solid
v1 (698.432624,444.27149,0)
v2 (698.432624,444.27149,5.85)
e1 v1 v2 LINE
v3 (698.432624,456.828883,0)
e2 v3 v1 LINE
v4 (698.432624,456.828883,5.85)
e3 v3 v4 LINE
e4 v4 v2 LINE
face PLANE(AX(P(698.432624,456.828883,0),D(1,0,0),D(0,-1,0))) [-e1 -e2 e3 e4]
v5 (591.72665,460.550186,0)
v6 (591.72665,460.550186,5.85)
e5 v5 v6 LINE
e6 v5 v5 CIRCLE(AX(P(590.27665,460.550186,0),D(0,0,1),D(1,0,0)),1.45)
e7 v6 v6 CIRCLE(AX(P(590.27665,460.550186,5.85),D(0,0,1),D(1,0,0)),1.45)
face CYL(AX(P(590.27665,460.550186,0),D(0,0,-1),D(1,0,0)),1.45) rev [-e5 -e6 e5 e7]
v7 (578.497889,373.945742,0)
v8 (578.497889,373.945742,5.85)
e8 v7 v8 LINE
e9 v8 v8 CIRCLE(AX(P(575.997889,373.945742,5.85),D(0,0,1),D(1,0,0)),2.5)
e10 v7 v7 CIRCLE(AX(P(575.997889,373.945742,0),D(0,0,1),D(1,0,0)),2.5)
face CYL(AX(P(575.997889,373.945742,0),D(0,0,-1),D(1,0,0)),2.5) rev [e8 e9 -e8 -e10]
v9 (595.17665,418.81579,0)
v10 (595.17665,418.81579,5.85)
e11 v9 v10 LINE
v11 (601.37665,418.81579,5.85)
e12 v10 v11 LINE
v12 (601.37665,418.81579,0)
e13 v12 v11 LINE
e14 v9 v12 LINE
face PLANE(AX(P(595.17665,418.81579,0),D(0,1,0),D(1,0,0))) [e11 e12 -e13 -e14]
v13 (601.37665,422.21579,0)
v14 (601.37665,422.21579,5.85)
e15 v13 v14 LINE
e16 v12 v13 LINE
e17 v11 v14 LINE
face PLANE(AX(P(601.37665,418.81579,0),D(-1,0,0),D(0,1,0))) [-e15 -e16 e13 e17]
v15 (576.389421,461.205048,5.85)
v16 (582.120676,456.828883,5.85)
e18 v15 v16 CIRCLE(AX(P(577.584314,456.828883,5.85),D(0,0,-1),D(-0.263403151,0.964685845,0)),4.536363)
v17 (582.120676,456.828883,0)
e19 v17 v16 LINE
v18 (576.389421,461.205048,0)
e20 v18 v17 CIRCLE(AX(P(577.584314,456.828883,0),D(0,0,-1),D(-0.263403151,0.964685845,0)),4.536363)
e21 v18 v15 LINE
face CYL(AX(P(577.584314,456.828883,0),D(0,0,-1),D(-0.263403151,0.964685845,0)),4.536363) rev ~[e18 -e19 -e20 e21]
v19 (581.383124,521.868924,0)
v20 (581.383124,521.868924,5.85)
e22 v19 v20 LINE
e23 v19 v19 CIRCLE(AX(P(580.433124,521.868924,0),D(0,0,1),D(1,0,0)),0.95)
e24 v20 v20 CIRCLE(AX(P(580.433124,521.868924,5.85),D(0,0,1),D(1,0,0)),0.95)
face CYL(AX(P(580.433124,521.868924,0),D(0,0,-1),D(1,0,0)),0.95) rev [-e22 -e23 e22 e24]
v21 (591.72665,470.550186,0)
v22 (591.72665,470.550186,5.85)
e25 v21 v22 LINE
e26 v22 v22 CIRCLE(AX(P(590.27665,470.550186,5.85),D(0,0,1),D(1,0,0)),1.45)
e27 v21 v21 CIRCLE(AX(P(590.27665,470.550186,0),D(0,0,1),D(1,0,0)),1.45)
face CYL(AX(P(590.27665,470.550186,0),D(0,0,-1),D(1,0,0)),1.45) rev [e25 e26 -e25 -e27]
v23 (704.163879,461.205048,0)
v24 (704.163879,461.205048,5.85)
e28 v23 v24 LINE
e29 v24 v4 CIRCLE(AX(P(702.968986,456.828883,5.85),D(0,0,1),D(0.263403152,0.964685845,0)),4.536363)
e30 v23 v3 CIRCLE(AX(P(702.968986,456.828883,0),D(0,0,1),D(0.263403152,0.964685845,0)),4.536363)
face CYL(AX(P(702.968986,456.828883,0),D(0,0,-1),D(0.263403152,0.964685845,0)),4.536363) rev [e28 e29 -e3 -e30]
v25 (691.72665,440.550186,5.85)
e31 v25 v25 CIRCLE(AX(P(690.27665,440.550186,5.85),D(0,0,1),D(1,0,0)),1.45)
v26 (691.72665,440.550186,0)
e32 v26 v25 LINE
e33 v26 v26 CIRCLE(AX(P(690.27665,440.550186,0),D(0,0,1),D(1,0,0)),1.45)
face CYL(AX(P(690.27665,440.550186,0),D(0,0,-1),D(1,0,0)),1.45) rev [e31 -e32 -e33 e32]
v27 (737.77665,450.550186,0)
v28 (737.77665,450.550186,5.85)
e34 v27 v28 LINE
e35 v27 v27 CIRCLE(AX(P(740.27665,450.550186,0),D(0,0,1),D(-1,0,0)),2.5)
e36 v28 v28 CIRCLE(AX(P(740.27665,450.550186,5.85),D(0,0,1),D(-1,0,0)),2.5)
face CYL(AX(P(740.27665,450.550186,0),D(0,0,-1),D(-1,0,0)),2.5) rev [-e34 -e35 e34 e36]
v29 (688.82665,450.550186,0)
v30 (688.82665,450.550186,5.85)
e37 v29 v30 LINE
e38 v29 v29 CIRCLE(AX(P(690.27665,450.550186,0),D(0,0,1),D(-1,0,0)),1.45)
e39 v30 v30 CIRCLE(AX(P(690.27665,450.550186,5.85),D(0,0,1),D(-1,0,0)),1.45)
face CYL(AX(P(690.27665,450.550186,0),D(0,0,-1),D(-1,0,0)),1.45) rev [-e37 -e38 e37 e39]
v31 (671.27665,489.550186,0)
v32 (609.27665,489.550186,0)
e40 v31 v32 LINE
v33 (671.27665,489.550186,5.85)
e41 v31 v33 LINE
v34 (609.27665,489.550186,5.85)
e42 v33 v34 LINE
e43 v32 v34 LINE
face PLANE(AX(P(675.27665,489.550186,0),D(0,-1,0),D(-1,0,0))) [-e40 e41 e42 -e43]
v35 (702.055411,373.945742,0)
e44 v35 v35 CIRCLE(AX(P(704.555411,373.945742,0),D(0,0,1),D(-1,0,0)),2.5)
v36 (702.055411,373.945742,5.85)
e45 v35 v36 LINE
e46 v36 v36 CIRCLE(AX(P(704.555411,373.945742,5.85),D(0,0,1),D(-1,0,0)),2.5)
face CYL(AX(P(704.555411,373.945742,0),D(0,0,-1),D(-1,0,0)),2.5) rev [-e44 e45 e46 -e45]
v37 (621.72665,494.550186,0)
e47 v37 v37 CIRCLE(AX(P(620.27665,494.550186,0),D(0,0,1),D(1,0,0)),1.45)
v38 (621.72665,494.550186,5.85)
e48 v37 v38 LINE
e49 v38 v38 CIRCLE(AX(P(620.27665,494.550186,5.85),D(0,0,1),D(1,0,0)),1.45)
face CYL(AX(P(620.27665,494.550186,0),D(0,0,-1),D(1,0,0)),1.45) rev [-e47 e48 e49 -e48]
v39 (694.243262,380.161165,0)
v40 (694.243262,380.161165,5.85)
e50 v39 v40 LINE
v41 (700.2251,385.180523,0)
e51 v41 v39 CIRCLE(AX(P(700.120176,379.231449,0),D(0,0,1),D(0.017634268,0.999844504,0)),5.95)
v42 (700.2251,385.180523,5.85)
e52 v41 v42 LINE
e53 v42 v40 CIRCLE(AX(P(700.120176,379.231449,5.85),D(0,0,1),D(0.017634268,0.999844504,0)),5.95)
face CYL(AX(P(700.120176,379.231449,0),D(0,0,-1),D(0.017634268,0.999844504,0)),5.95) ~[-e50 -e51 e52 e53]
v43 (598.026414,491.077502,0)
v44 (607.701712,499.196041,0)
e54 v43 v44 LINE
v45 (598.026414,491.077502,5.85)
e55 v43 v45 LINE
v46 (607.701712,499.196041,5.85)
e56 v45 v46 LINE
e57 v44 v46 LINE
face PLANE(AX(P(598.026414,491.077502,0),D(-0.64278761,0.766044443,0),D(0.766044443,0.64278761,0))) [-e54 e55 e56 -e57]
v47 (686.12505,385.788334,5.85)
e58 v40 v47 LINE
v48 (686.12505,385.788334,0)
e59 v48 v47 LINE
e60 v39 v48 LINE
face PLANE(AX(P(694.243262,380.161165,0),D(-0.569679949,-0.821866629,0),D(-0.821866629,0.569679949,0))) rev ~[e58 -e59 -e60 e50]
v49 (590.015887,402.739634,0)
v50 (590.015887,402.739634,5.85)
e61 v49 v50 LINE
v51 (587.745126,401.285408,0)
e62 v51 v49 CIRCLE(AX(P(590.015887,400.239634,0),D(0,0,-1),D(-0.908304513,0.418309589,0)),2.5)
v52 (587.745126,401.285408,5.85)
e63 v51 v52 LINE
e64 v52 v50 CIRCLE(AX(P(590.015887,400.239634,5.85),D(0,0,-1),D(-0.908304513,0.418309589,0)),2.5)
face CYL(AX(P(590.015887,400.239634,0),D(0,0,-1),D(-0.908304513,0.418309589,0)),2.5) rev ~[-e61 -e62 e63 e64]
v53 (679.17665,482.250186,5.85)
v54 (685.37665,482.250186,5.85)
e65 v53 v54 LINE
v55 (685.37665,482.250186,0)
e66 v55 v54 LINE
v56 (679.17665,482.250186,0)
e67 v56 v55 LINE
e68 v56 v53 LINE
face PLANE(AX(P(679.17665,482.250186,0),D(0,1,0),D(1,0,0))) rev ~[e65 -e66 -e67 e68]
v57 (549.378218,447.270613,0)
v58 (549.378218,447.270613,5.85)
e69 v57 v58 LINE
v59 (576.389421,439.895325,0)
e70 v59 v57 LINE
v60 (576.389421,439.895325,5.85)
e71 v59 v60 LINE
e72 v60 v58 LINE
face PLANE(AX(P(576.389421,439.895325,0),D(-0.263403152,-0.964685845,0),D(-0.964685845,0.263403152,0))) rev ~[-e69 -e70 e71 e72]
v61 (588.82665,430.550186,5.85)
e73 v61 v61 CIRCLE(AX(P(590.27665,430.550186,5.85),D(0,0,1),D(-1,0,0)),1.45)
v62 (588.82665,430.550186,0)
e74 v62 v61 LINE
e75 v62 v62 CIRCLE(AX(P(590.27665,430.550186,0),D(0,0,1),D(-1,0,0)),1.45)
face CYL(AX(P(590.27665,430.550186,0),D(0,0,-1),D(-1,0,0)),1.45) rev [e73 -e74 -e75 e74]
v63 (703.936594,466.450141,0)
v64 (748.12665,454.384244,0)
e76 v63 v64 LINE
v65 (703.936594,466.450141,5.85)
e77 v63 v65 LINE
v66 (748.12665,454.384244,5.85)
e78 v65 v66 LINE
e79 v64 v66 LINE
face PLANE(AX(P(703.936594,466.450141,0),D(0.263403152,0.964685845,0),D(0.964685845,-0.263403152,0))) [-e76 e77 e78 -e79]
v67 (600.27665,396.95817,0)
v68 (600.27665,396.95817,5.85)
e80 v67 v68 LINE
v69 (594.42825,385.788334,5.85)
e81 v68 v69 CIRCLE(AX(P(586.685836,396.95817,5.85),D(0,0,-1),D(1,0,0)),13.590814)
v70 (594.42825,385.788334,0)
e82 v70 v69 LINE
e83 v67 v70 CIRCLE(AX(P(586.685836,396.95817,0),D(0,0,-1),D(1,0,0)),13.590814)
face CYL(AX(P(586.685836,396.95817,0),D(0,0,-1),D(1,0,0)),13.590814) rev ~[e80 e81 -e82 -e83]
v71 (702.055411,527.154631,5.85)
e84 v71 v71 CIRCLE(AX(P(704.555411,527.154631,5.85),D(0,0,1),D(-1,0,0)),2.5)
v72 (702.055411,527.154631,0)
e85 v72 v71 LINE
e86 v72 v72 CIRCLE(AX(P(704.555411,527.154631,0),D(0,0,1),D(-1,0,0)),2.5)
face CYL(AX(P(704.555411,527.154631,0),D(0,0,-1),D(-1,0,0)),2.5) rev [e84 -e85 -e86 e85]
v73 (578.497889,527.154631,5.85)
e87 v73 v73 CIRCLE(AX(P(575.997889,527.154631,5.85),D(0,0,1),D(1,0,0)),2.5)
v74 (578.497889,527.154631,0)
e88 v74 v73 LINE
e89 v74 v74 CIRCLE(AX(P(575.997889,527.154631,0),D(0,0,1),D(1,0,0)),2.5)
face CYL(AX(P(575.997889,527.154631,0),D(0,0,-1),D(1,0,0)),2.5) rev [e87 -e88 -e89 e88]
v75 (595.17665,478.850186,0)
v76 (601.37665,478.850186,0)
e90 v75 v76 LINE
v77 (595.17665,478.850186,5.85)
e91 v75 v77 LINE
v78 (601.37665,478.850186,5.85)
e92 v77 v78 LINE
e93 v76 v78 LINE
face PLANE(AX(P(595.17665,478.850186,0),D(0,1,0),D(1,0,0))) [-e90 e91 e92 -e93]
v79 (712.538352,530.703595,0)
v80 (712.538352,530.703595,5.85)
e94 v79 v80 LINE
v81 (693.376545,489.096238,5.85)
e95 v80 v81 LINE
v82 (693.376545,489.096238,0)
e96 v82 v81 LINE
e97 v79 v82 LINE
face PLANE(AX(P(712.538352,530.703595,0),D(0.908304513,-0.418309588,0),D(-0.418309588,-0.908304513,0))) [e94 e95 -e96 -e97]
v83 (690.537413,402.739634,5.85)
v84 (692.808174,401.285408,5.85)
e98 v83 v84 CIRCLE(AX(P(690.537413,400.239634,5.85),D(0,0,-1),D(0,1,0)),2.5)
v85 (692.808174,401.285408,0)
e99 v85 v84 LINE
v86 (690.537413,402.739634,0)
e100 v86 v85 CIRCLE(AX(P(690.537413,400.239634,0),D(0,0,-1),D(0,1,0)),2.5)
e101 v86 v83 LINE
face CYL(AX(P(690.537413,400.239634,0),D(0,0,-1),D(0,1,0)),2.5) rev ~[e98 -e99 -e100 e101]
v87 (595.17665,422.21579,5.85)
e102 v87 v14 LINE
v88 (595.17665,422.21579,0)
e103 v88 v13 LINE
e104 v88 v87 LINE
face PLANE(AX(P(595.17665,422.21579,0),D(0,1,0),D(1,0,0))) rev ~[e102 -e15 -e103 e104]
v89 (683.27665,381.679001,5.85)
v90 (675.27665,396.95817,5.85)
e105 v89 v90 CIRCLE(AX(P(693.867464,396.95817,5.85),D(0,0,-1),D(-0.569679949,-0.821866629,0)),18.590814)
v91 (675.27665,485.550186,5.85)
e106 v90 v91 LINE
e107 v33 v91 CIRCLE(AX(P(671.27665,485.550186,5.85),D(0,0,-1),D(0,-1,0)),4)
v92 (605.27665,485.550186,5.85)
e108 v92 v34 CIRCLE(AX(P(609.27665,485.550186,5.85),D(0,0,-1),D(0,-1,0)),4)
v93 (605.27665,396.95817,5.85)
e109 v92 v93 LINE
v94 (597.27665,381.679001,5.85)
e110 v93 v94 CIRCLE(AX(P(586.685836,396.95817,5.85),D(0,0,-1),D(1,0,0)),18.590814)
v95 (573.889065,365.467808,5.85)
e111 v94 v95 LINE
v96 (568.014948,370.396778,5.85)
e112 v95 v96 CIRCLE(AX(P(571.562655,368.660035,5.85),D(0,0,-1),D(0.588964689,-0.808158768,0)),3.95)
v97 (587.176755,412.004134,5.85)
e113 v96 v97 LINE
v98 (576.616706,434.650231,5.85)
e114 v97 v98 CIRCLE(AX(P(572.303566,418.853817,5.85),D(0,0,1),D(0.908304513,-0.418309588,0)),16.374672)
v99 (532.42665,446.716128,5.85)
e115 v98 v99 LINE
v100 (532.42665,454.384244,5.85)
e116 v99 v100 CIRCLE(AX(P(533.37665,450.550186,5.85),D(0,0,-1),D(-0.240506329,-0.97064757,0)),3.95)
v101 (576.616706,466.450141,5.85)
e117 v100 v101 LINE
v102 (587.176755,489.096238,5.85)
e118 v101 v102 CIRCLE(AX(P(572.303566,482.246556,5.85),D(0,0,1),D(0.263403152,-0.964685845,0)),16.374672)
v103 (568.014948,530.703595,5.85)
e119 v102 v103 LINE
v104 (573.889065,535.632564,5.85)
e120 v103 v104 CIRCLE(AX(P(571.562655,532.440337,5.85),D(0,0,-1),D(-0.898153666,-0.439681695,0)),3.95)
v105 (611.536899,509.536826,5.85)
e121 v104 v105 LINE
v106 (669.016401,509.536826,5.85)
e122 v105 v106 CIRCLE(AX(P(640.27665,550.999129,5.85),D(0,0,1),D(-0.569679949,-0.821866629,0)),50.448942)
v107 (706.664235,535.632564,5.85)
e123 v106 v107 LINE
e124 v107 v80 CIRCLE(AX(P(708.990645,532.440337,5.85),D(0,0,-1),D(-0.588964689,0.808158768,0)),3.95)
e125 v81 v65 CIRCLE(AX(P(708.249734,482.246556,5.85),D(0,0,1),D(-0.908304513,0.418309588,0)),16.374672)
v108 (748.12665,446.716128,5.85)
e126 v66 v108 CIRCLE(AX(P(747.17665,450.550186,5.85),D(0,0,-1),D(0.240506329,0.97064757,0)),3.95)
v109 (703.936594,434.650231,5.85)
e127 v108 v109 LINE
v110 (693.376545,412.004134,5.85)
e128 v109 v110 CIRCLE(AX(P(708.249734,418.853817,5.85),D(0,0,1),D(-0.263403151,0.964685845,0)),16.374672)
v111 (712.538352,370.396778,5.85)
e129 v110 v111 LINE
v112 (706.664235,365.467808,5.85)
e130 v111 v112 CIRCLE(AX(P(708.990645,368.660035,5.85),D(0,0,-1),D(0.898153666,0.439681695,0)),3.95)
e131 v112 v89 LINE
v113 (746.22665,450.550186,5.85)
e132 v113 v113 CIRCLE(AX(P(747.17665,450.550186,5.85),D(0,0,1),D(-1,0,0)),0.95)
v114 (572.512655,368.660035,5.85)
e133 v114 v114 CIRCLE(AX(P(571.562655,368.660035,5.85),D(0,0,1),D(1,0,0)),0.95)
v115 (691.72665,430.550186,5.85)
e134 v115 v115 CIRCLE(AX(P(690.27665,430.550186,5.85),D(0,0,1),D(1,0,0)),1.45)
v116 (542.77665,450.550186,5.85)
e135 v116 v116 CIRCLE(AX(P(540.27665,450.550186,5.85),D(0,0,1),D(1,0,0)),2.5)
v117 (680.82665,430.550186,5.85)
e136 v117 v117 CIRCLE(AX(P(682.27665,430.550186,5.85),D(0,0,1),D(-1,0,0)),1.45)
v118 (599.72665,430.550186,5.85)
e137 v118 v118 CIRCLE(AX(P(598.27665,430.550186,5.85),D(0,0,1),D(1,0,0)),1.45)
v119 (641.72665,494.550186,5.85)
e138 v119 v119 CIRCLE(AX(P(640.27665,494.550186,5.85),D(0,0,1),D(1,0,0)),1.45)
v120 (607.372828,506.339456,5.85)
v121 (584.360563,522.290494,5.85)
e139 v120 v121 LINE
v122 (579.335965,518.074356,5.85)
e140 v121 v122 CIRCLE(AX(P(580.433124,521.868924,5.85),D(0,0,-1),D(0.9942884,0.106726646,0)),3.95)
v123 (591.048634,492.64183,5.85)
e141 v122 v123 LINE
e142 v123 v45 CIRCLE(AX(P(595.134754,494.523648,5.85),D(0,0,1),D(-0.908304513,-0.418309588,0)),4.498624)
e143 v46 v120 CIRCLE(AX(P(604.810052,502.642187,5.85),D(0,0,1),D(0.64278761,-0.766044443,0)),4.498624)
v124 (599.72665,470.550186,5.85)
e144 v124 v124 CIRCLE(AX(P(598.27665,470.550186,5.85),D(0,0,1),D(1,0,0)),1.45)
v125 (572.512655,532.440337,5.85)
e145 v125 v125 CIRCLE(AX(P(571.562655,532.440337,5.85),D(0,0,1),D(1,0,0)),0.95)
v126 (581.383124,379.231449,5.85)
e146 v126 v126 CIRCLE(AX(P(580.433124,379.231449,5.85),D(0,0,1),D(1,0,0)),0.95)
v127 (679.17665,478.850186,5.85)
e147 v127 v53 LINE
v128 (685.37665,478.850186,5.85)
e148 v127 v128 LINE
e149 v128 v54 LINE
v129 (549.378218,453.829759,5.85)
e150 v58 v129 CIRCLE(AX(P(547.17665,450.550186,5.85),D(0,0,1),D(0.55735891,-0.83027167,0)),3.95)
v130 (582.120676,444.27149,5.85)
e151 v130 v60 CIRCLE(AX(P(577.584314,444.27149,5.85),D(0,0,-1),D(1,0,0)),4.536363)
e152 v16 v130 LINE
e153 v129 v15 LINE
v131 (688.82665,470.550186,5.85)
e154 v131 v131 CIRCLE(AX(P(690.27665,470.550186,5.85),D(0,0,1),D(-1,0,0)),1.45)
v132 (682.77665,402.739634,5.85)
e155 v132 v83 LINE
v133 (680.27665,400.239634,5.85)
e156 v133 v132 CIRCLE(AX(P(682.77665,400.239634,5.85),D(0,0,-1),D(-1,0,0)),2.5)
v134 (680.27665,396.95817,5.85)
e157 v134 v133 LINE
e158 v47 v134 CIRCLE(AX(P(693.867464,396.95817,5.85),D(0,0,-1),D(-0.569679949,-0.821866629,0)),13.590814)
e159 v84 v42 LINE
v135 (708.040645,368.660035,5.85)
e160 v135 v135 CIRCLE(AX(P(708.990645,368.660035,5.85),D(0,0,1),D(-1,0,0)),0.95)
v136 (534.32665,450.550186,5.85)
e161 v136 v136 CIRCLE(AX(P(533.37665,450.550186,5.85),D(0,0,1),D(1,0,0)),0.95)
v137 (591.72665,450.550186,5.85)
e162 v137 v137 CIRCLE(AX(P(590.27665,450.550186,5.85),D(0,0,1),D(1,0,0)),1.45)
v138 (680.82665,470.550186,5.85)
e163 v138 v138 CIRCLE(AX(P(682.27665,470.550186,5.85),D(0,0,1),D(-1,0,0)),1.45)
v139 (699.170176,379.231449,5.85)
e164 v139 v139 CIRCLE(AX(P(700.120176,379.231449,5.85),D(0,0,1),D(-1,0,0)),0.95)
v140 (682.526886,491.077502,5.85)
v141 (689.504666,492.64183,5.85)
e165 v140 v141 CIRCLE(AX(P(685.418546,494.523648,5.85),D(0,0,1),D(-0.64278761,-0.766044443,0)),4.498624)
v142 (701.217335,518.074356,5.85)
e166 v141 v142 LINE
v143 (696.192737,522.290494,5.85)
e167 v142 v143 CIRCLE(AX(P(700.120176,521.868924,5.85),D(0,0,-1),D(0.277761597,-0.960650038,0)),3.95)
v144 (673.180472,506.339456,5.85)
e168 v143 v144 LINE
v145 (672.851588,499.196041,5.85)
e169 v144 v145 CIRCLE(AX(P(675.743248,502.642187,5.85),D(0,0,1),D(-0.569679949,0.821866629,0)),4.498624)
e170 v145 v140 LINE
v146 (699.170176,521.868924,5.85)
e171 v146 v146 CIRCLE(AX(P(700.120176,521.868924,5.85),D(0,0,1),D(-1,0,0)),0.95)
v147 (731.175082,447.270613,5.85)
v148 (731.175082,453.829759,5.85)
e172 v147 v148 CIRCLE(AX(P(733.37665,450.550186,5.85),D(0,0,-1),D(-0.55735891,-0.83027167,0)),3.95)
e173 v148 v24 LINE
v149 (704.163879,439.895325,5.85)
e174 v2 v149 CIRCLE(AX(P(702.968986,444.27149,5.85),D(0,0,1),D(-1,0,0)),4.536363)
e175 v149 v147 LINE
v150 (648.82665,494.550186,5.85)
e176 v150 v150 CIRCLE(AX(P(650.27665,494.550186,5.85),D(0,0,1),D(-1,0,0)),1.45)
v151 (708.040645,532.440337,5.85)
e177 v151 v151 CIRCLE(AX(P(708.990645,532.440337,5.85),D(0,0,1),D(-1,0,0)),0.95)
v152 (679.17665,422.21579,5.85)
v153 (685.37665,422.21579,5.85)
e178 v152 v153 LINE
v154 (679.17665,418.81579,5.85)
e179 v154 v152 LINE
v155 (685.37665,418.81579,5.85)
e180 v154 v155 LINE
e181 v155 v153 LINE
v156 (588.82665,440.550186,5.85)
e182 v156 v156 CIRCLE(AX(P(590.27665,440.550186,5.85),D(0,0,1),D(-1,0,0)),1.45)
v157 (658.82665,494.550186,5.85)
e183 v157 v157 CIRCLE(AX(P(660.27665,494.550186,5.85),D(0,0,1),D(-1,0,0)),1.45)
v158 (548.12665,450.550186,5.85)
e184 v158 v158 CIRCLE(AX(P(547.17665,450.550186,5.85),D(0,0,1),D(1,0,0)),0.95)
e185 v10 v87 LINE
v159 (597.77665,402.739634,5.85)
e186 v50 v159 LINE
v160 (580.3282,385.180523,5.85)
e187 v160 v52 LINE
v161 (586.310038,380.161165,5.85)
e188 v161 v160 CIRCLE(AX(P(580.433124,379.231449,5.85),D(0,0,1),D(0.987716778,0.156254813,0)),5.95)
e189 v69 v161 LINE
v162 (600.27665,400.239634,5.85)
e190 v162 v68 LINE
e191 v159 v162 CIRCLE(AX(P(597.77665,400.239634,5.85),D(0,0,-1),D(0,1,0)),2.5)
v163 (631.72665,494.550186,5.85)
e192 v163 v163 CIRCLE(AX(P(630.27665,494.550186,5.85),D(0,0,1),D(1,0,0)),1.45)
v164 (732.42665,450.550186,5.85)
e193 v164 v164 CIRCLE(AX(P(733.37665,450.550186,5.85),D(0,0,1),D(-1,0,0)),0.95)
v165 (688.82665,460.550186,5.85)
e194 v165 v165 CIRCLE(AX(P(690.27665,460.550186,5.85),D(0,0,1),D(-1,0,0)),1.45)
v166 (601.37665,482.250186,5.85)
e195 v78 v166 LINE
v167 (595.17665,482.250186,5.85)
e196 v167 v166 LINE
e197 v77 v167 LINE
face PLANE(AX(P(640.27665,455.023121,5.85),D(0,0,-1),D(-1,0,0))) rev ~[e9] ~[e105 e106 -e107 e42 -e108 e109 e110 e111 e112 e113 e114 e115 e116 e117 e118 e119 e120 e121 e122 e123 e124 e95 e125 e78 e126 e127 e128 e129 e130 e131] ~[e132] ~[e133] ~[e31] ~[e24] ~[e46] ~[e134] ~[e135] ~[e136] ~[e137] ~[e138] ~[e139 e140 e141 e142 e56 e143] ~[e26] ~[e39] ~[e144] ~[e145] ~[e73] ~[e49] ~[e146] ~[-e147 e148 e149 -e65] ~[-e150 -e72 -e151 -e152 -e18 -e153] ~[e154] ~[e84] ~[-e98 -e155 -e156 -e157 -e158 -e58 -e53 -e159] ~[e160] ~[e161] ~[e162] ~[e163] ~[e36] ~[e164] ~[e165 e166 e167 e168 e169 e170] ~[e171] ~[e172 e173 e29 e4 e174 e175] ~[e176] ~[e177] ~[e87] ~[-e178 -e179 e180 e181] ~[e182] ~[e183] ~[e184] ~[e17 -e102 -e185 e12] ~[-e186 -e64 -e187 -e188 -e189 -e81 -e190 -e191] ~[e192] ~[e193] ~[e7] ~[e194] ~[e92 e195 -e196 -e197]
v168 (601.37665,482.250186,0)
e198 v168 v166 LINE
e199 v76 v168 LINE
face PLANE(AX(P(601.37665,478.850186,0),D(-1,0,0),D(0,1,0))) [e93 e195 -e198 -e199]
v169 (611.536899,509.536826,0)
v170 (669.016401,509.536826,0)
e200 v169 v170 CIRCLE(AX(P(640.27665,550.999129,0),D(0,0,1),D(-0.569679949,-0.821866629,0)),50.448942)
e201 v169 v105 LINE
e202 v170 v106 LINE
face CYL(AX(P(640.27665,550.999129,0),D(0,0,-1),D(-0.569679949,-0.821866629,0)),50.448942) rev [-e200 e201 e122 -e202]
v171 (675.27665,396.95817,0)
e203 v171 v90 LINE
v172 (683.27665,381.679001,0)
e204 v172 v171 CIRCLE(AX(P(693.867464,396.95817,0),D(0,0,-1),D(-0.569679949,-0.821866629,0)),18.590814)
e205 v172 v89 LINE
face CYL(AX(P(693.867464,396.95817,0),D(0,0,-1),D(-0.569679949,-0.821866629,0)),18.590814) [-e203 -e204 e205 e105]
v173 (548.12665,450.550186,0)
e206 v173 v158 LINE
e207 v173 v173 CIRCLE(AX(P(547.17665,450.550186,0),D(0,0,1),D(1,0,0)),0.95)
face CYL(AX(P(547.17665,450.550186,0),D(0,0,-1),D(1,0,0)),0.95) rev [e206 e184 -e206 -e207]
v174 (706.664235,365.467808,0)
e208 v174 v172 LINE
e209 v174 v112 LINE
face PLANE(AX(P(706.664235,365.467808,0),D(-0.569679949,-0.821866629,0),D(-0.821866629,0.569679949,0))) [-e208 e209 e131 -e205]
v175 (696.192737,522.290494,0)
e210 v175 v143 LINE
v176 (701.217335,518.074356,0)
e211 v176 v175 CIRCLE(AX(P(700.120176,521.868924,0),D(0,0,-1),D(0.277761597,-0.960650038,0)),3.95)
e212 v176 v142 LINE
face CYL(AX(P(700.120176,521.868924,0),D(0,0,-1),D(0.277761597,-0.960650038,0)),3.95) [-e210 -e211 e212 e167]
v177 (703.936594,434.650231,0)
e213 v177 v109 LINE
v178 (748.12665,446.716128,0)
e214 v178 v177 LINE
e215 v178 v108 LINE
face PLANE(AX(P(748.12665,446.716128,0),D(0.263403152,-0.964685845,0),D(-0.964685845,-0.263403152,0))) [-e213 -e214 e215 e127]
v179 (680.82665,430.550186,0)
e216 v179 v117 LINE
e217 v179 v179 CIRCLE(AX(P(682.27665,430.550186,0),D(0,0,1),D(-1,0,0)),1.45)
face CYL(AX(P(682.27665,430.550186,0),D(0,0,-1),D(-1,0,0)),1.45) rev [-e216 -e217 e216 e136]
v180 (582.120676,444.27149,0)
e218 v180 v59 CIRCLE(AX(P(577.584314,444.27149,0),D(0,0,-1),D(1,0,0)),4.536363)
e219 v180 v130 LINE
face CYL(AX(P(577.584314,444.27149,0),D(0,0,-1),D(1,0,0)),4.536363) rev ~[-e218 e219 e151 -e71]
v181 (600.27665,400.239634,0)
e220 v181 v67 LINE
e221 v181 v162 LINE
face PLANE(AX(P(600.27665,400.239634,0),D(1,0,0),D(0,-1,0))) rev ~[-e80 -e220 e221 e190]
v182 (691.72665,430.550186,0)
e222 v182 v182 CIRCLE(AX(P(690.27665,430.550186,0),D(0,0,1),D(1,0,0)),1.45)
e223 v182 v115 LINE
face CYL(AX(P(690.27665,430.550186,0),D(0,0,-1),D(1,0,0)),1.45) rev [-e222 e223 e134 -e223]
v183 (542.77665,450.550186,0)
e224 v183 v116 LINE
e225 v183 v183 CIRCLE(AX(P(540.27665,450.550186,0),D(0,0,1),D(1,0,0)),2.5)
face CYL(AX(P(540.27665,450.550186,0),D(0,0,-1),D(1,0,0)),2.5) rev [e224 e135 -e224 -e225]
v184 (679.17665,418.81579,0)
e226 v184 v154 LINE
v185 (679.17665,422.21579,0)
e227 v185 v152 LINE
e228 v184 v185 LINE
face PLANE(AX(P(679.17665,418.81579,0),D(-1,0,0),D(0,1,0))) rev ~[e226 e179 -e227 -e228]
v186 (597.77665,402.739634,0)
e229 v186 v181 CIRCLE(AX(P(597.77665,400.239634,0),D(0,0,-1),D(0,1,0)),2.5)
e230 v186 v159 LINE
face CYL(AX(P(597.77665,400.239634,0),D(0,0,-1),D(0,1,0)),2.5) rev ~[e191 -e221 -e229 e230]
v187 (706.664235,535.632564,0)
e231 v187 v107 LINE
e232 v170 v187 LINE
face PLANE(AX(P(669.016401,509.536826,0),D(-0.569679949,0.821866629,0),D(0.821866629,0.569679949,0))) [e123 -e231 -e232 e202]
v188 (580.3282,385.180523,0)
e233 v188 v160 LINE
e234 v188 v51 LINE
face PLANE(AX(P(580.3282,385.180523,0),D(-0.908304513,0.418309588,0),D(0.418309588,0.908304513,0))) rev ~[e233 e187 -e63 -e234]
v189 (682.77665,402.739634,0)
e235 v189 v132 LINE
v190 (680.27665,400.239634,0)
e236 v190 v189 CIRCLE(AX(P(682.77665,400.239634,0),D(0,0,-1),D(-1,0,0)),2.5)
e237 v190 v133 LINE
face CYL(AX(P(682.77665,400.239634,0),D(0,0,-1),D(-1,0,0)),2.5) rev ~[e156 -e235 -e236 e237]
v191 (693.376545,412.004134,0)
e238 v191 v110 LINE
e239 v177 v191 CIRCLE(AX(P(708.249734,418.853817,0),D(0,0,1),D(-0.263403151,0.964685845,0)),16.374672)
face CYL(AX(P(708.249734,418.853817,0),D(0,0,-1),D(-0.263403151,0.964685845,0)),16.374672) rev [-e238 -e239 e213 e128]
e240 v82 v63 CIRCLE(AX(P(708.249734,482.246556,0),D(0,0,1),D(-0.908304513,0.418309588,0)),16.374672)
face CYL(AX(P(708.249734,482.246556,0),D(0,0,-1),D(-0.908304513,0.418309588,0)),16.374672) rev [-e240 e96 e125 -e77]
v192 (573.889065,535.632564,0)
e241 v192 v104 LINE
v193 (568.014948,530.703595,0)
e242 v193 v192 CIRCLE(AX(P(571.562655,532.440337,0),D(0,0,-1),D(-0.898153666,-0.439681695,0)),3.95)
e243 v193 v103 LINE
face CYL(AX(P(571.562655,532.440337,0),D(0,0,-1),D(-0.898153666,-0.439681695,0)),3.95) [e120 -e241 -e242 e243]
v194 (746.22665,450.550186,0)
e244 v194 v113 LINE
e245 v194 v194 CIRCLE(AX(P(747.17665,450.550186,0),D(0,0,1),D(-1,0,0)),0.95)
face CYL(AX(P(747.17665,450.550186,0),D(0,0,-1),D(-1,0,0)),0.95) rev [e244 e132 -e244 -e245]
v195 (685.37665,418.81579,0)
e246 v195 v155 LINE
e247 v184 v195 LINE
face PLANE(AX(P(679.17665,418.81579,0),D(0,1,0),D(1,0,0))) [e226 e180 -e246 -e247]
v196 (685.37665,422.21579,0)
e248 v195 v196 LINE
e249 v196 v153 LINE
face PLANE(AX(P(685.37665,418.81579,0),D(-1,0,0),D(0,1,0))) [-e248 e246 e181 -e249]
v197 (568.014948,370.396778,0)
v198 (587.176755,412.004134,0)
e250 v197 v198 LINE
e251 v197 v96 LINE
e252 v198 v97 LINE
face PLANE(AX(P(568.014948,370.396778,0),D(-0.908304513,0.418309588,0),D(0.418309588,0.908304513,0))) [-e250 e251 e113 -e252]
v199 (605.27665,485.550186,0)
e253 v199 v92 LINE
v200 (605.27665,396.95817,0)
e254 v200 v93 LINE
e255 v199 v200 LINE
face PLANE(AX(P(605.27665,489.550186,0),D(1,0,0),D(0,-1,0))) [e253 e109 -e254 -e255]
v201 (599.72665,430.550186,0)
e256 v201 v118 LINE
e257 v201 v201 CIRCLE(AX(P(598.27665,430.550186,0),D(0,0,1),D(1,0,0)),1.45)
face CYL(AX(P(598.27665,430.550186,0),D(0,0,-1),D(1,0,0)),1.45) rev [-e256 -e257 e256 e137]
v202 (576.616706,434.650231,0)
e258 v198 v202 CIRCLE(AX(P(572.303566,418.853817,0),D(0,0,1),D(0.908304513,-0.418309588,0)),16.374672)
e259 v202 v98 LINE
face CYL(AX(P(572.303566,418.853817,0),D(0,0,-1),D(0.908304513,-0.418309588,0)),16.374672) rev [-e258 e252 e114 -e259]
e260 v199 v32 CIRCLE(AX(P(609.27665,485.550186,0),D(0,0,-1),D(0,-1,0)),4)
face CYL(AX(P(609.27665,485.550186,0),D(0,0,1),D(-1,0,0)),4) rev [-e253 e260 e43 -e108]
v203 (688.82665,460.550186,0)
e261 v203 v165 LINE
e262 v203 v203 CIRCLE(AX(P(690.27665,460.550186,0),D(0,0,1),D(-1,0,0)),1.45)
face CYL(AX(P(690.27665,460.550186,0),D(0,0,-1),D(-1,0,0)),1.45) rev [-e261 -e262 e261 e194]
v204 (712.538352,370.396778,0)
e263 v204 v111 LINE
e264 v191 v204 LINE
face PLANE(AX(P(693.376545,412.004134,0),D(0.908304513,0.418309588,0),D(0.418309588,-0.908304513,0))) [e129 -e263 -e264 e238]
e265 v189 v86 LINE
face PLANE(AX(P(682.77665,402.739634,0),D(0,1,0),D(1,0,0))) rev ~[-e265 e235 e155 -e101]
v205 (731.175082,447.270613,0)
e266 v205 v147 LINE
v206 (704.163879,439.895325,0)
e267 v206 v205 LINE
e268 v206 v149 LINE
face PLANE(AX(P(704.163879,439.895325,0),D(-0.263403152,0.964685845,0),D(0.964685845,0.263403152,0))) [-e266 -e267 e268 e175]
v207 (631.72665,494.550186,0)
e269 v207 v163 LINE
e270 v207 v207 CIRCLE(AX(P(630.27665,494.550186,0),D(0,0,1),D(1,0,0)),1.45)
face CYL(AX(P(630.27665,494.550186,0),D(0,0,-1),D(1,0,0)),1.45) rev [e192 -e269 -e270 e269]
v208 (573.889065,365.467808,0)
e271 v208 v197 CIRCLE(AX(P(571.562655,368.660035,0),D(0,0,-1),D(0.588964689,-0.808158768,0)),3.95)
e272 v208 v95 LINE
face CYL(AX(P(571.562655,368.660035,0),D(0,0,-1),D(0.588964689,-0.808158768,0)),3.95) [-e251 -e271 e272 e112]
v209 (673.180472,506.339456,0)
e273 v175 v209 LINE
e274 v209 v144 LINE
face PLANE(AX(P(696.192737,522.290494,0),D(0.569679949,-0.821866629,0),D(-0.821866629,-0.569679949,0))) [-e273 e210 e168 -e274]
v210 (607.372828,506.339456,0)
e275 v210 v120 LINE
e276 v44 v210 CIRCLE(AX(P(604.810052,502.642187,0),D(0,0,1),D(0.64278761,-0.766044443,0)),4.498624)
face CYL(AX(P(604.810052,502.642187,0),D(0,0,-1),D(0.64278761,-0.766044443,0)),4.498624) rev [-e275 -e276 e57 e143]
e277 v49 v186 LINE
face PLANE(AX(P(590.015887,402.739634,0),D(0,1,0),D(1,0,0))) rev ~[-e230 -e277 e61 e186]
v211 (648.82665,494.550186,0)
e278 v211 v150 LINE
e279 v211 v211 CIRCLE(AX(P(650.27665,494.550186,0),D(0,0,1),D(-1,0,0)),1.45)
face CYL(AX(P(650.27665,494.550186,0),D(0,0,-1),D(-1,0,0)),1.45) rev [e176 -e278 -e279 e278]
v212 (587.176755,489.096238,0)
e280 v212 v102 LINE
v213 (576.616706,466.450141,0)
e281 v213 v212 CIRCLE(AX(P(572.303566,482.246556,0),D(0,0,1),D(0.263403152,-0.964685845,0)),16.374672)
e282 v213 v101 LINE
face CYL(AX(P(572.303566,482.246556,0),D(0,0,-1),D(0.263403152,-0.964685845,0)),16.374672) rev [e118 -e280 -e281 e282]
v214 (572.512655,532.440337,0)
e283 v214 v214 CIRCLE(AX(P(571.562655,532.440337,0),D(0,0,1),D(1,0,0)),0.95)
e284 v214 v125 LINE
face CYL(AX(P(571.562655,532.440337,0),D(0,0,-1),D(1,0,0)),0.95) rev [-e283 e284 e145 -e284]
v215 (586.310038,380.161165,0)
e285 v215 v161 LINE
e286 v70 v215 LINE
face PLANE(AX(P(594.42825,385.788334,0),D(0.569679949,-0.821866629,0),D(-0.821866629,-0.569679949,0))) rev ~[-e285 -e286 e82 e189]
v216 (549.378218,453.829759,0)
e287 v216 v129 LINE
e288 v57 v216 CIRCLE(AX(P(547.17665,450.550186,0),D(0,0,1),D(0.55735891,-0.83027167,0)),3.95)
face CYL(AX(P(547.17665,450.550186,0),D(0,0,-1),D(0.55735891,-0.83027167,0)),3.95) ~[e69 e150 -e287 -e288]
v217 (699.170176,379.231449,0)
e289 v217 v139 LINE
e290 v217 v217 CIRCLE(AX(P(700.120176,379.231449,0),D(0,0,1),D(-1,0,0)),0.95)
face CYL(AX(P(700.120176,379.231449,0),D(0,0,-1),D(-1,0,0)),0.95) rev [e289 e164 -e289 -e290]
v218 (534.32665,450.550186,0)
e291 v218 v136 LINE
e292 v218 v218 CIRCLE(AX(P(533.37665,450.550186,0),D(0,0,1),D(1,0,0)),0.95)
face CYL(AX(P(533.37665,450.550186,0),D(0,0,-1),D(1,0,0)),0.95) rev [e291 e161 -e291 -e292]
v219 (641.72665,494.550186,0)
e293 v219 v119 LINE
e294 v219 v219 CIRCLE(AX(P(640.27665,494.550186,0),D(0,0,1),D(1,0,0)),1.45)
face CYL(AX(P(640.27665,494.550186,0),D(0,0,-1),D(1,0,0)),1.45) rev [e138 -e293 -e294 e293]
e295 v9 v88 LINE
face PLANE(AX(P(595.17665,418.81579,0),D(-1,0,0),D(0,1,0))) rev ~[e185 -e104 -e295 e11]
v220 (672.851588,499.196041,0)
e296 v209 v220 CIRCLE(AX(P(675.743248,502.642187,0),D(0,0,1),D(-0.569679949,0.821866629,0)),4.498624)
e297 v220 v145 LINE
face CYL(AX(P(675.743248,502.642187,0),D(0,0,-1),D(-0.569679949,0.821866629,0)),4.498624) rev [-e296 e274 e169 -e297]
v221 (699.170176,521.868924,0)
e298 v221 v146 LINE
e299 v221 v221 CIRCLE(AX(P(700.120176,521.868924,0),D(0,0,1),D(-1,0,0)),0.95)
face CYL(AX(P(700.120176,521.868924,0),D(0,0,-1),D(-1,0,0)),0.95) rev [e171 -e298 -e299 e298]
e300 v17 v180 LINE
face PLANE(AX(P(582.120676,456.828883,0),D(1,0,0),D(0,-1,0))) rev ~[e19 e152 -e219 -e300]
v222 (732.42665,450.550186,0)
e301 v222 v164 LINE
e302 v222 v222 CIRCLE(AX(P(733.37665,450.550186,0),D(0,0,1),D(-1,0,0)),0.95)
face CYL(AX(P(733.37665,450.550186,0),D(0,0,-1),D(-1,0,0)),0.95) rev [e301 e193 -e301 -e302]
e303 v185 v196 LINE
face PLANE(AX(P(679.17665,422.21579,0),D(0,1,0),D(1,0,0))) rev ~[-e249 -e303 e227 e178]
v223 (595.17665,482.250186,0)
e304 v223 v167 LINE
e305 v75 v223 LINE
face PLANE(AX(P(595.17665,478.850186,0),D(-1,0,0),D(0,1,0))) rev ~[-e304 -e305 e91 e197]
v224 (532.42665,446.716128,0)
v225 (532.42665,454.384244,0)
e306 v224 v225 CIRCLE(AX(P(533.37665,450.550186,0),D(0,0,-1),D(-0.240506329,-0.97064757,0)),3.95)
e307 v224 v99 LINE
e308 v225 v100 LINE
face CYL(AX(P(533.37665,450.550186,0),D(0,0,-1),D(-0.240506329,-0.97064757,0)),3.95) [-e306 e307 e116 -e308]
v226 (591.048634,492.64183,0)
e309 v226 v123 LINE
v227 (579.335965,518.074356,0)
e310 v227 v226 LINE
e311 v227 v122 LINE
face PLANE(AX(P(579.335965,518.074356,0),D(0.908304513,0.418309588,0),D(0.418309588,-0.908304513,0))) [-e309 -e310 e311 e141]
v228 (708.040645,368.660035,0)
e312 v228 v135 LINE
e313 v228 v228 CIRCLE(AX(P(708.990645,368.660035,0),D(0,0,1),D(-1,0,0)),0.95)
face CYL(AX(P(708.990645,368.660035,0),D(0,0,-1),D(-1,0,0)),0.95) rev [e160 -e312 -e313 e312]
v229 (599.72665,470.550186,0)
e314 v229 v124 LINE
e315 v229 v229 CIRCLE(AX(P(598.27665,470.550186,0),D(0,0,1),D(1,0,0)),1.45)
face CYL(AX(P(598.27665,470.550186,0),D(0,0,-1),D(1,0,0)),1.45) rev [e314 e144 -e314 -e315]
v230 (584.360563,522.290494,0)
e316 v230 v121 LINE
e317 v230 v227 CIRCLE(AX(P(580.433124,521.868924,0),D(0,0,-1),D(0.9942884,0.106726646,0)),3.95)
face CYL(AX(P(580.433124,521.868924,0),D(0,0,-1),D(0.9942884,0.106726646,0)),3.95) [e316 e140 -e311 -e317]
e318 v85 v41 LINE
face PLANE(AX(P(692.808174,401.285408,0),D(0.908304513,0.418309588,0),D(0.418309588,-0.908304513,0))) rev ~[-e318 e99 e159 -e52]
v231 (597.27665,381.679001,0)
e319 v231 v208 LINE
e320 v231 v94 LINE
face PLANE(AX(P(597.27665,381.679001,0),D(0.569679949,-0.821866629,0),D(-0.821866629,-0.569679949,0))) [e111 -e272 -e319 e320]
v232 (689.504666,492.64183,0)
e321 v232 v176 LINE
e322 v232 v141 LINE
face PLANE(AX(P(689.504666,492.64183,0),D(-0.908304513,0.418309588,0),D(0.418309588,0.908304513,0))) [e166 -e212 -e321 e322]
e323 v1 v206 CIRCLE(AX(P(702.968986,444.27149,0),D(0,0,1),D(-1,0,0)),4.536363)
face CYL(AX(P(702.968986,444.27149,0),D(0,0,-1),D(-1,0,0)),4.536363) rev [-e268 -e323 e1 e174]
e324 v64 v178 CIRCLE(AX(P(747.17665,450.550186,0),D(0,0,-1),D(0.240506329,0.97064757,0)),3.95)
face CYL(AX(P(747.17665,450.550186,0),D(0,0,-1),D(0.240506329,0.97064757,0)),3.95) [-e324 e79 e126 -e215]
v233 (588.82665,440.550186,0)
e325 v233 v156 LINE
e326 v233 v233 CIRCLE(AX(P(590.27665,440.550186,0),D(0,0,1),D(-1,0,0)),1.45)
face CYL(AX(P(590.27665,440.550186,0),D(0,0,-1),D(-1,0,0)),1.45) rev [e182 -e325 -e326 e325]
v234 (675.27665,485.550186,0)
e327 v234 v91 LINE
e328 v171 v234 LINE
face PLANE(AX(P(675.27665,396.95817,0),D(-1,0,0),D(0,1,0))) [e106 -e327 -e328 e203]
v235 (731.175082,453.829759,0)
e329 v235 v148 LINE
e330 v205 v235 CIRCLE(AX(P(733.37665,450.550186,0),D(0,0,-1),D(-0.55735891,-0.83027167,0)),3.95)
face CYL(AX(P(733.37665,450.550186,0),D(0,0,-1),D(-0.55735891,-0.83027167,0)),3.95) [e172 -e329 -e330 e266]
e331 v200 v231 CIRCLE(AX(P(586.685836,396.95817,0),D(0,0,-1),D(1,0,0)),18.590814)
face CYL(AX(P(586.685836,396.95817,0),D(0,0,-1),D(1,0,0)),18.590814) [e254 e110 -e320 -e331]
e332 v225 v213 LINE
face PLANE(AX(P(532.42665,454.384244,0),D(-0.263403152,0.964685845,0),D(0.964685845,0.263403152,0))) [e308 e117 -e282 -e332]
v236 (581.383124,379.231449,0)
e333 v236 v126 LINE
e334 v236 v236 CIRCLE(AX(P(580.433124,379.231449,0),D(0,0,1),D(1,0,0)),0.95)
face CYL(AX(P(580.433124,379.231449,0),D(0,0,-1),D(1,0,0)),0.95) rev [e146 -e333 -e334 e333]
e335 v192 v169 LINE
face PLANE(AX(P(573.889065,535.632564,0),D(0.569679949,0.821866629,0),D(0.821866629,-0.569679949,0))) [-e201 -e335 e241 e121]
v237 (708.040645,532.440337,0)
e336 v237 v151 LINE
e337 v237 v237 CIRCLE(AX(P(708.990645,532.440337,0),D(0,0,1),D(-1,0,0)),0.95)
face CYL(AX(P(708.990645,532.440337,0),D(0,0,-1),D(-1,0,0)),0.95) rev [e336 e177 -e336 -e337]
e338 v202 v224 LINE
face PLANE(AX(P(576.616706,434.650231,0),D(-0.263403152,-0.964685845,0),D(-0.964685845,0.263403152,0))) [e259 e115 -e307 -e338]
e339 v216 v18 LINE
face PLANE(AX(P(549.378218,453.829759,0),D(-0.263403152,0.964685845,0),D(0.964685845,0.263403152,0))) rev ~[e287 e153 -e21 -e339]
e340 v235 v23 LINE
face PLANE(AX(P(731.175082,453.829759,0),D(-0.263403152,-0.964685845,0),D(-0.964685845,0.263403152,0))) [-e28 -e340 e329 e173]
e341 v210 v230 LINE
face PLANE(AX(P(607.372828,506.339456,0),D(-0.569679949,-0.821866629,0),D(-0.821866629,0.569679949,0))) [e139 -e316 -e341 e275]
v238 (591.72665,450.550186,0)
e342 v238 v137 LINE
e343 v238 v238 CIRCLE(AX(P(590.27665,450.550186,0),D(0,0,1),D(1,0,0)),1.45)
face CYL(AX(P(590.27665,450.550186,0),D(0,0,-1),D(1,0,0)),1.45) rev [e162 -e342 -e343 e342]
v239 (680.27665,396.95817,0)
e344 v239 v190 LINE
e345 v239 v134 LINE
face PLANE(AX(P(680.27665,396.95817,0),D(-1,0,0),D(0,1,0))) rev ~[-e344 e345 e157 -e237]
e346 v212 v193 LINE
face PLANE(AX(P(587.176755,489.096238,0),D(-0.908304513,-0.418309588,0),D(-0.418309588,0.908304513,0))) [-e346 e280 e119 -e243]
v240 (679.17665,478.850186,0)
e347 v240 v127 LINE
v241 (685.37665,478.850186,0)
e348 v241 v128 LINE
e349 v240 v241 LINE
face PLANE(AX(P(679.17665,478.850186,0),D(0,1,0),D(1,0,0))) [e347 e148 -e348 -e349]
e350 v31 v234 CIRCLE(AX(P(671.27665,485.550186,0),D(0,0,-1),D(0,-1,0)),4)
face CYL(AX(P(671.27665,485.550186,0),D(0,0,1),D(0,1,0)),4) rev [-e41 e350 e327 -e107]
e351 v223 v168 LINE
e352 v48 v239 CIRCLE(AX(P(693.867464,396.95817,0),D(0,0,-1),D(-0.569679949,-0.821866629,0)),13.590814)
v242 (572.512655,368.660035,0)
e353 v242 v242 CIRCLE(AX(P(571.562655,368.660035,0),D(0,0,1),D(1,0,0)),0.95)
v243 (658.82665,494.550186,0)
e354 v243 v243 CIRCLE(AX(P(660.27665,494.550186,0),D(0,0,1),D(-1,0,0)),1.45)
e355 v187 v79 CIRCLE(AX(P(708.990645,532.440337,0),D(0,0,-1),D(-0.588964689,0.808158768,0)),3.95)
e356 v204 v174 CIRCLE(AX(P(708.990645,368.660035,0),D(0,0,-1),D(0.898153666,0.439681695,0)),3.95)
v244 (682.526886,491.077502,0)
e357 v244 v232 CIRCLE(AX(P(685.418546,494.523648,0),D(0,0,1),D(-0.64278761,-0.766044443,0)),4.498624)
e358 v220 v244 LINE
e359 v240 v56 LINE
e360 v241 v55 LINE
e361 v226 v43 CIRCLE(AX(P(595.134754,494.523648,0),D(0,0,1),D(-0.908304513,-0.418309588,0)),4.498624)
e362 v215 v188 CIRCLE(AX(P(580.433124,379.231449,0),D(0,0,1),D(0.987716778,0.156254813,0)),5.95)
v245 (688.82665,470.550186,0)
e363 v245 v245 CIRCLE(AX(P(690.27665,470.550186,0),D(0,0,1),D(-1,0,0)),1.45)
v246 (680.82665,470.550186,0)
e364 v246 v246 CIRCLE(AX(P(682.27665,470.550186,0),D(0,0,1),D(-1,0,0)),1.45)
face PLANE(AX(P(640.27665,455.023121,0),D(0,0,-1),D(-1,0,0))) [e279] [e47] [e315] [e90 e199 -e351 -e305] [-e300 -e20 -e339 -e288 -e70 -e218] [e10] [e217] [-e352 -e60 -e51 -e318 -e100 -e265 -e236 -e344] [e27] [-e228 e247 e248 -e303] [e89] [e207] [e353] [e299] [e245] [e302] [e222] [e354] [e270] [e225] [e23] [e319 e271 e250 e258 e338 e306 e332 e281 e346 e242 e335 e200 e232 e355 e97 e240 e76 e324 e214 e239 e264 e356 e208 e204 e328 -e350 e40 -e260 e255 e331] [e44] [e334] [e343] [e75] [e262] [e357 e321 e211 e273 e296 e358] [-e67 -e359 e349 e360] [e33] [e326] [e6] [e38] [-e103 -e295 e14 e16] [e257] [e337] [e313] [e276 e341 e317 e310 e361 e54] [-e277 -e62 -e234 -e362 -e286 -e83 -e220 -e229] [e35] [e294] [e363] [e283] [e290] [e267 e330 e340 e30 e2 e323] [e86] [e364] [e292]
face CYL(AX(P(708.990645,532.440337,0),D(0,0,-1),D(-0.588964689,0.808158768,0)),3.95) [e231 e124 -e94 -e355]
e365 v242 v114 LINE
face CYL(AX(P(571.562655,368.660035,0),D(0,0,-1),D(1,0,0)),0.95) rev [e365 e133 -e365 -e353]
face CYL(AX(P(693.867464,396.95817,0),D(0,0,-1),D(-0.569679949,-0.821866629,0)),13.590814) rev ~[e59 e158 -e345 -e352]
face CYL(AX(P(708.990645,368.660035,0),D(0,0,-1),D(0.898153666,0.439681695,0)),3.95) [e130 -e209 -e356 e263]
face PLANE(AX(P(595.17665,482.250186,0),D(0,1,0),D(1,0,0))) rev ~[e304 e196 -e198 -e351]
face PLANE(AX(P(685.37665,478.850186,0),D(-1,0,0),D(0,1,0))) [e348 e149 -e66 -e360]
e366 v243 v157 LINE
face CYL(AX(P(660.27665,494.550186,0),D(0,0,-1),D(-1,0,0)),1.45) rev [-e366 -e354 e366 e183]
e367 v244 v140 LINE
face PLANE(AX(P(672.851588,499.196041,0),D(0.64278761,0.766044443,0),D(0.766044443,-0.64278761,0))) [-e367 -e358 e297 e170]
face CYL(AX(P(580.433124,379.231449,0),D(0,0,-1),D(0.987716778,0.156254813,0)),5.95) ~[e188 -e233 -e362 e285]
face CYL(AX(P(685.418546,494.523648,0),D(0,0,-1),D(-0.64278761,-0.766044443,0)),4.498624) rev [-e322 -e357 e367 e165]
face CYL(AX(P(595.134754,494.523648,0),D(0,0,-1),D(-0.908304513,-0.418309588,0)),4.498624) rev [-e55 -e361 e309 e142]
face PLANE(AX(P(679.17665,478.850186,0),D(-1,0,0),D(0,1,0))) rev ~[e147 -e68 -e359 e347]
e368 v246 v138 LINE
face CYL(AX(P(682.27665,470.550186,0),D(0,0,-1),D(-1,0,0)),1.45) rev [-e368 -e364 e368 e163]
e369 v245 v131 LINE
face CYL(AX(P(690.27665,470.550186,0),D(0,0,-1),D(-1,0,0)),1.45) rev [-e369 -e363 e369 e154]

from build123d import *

# Parameters (mm, degrees)
SKETCH1_R           = 0.95
SKETCH1_R_2         = 2.5
SKETCH1_R_3         = 1.449999999
SKETCH1_R_4         = 1.45
SKETCH1_W           = 6.2
SKETCH1_H           = 3.4
BOSS_EXTRUDE1_DEPTH = 5.85
FILLET1_R           = 4


with BuildPart() as part:
    # Sketch1 → Boss-Extrude1 (new body)
    with BuildSketch(Plane.XY):
        with BuildLine():
            Line((576.616706289, 434.650231372), (532.426650002, 446.716128422))
            ThreePointArc((532.426650002, 446.716128422), (529.426650002, 450.550186325), (532.426650002, 454.384244227))
            Line((532.426650002, 454.384244227), (576.616706289, 466.450141278))
            ThreePointArc((576.616706289, 466.450141278), (587.144059076, 475.326320371), (587.176754813, 489.096238418))
            Line((587.176754813, 489.096238418), (568.014947547, 530.703594601))
            ThreePointArc((568.014947547, 530.703594601), (569.023643468, 535.466212845), (573.889065048, 535.63256443))
            Line((573.889065048, 535.63256443), (611.536899087, 509.536826494))
            ThreePointArc((611.536899087, 509.536826494), (640.276650002, 500.550186325), (669.016400917, 509.536826494))
            Line((669.016400917, 509.536826494), (706.664234956, 535.63256443))
            ThreePointArc((706.664234956, 535.63256443), (711.529656536, 535.466212845), (712.538352458, 530.703594601))
            Line((712.538352458, 530.703594601), (693.376545192, 489.096238418))
            ThreePointArc((693.376545192, 489.096238418), (693.409240928, 475.326320371), (703.936593716, 466.450141278))
            Line((703.936593716, 466.450141278), (748.126650002, 454.384244227))
            ThreePointArc((748.126650002, 454.384244227), (751.126650002, 450.550186325), (748.126650002, 446.716128422))
            Line((748.126650002, 446.716128422), (703.936593716, 434.650231372))
            ThreePointArc((703.936593716, 434.650231372), (693.409240928, 425.774052279), (693.376545192, 412.004134232))
            Line((693.376545192, 412.004134232), (712.538352458, 370.396778049))
            ThreePointArc((712.538352458, 370.396778049), (711.529656536, 365.634159805), (706.664234956, 365.46780822))
            Line((706.664234956, 365.46780822), (683.276650002, 381.679000803))
            ThreePointArc((683.276650002, 381.679000803), (677.397639803, 388.334757147), (675.276650002, 396.958170375))
            Line((675.276650002, 396.958170375), (675.276650002, 489.550186325))
            Line((675.276650002, 489.550186325), (605.276650002, 489.550186325))
            Line((605.276650002, 489.550186325), (605.276650002, 396.958170375))
            ThreePointArc((605.276650002, 396.958170375), (603.155660202, 388.334757147), (597.276650002, 381.679000803))
            Line((597.276650002, 381.679000803), (573.889065048, 365.46780822))
            ThreePointArc((573.889065048, 365.46780822), (569.023643468, 365.634159805), (568.014947547, 370.396778049))
            Line((568.014947547, 370.396778049), (587.176754813, 412.004134232))
            ThreePointArc((587.176754813, 412.004134232), (587.144059076, 425.774052279), (576.616706289, 434.650231372))
        make_face()
        with Locations((533.376650002, 450.550186325)):
            Circle(SKETCH1_R, mode=Mode.SUBTRACT)
        with Locations((575.997889034, 527.154630637)):
            Circle(SKETCH1_R_2, mode=Mode.SUBTRACT)
        with Locations((547.176650002, 450.550186325)):
            Circle(SKETCH1_R, mode=Mode.SUBTRACT)
        with Locations((540.276650002, 450.550186325)):
            Circle(SKETCH1_R_2, mode=Mode.SUBTRACT)
        with Locations((590.276650002, 460.550186325)):
            Circle(SKETCH1_R_3, mode=Mode.SUBTRACT)
        with Locations((571.562654527, 532.440337294)):
            Circle(SKETCH1_R, mode=Mode.SUBTRACT)
        with Locations((580.43312354, 521.868923979)):
            Circle(SKETCH1_R, mode=Mode.SUBTRACT)
        with Locations(Location((682.276650002, 470.550186325, 0), (0, 0, 180))):
            Circle(SKETCH1_R_4, mode=Mode.SUBTRACT)
        with Locations((630.276650002, 494.550186325)):
            Circle(SKETCH1_R_4, mode=Mode.SUBTRACT)
        with Locations((620.276650002, 494.550186325)):
            Circle(SKETCH1_R_4, mode=Mode.SUBTRACT)
        with Locations((580.43312354, 379.231448671)):
            Circle(SKETCH1_R, mode=Mode.SUBTRACT)
        with Locations((575.997889034, 373.945742013)):
            Circle(SKETCH1_R_2, mode=Mode.SUBTRACT)
        with Locations((571.562654527, 368.660035356)):
            Circle(SKETCH1_R, mode=Mode.SUBTRACT)
        with Locations(Location((590.276650002, 430.550186325, 0), (0, 0, 180))):
            Circle(SKETCH1_R_3, mode=Mode.SUBTRACT)
        with Locations(Location((590.276650002, 440.550186325, 0), (0, 0, 180))):
            Circle(SKETCH1_R_3, mode=Mode.SUBTRACT)
        with Locations((590.276650002, 470.550186325)):
            Circle(SKETCH1_R_3, mode=Mode.SUBTRACT)
        with Locations(Location((682.276650002, 430.550186325, 0), (0, 0, 180))):
            Circle(SKETCH1_R_4, mode=Mode.SUBTRACT)
        with Locations(Location((708.990645478, 368.660035356, 0), (0, 0, 180))):
            Circle(SKETCH1_R, mode=Mode.SUBTRACT)
        with Locations(Location((704.555410971, 373.945742013, 0), (0, 0, 180))):
            Circle(SKETCH1_R_2, mode=Mode.SUBTRACT)
        with Locations(Location((700.120176464, 379.231448671, 0), (0, 0, 180))):
            Circle(SKETCH1_R, mode=Mode.SUBTRACT)
        with Locations(Location((660.276650002, 494.550186325, 0), (0, 0, 180))):
            Circle(SKETCH1_R_4, mode=Mode.SUBTRACT)
        with Locations(Location((650.276650002, 494.550186325, 0), (0, 0, 180))):
            Circle(SKETCH1_R_4, mode=Mode.SUBTRACT)
        with Locations(Location((700.120176464, 521.868923979, 0), (0, 0, 180))):
            Circle(SKETCH1_R, mode=Mode.SUBTRACT)
        with Locations(Location((708.990645478, 532.440337294, 0), (0, 0, 180))):
            Circle(SKETCH1_R, mode=Mode.SUBTRACT)
        with Locations(Location((690.276650002, 450.550186325, 0), (0, 0, 180))):
            Circle(SKETCH1_R_3, mode=Mode.SUBTRACT)
        with Locations(Location((740.276650002, 450.550186325, 0), (0, 0, 180))):
            Circle(SKETCH1_R_2, mode=Mode.SUBTRACT)
        with Locations(Location((733.376650002, 450.550186325, 0), (0, 0, 180))):
            Circle(SKETCH1_R, mode=Mode.SUBTRACT)
        with Locations(Location((704.555410971, 527.154630637, 0), (0, 0, 180))):
            Circle(SKETCH1_R_2, mode=Mode.SUBTRACT)
        with Locations(Location((747.176650002, 450.550186325, 0), (0, 0, 180))):
            Circle(SKETCH1_R, mode=Mode.SUBTRACT)
        with Locations(Location((690.276650002, 470.550186325, 0), (0, 0, 180))):
            Circle(SKETCH1_R_3, mode=Mode.SUBTRACT)
        with Locations((640.276650002, 494.550186325)):
            Circle(SKETCH1_R_4, mode=Mode.SUBTRACT)
        with Locations((690.276650002, 440.550186325)):
            Circle(SKETCH1_R_3, mode=Mode.SUBTRACT)
        with Locations((690.276650002, 430.550186325)):
            Circle(SKETCH1_R_3, mode=Mode.SUBTRACT)
        with Locations(Location((690.276650002, 460.550186325, 0), (0, 0, 180))):
            Circle(SKETCH1_R_3, mode=Mode.SUBTRACT)
        with Locations((590.276650002, 450.550186325)):
            Circle(SKETCH1_R_3, mode=Mode.SUBTRACT)
        with Locations((598.276650002, 430.550186325)):
            Circle(SKETCH1_R_4, mode=Mode.SUBTRACT)
        with Locations((598.276650002, 470.550186325)):
            Circle(SKETCH1_R_4, mode=Mode.SUBTRACT)
        with BuildLine():
            Line((549.378217697, 453.82975942), (576.389421361, 461.205047663))
            ThreePointArc((576.389421361, 461.205047663), (580.337323048, 460.434368256), (582.12067631, 456.828882764))
            Line((582.12067631, 456.828882764), (582.12067631, 444.271489885))
            ThreePointArc((582.12067631, 444.271489885), (580.337323048, 440.666004394), (576.389421361, 439.895324987))
            Line((576.389421361, 439.895324987), (549.378217697, 447.27061323))
            ThreePointArc((549.378217697, 447.27061323), (551.126650002, 450.550186325), (549.378217697, 453.82975942))
        make_face(mode=Mode.SUBTRACT)
        with BuildLine():
            Line((590.015887334, 402.739634304), (597.776650002, 402.739634304))
            ThreePointArc((597.776650002, 402.739634304), (599.544416955, 402.007401257), (600.276650002, 400.239634304))
            Line((600.276650002, 400.239634304), (600.276650002, 396.958170375))
            ThreePointArc((600.276650002, 396.958170375), (598.726100476, 390.65402441), (594.428250258, 385.788333948))
            Line((594.428250258, 385.788333948), (586.310038369, 380.161164806))
            ThreePointArc((586.310038369, 380.161164806), (584.257709818, 383.789413107), (580.328199648, 385.180523471))
            Line((580.328199648, 385.180523471), (587.745126051, 401.285408274))
            ThreePointArc((587.745126051, 401.285408274), (588.667635675, 402.34491753), (590.015887334, 402.739634304))
        make_face(mode=Mode.SUBTRACT)
        with Locations((598.276650002, 420.515790438)):
            Rectangle(SKETCH1_W, SKETCH1_H, mode=Mode.SUBTRACT)
        with BuildLine():
            Line((694.243261635, 380.161164806), (686.125049746, 385.788333948))
            ThreePointArc((686.125049746, 385.788333948), (681.827199528, 390.65402441), (680.276650002, 396.958170375))
            Line((680.276650002, 396.958170375), (680.276650002, 400.239634304))
            ThreePointArc((680.276650002, 400.239634304), (681.008883049, 402.007401257), (682.776650002, 402.739634304))
            Line((682.776650002, 402.739634304), (690.53741267, 402.739634304))
            ThreePointArc((690.53741267, 402.739634304), (691.88566433, 402.34491753), (692.808173953, 401.285408274))
            Line((692.808173953, 401.285408274), (700.225100356, 385.180523471))
            ThreePointArc((700.225100356, 385.180523471), (696.295590186, 383.789413107), (694.243261635, 380.161164806))
        make_face(mode=Mode.SUBTRACT)
        with BuildLine():
            Line((579.335965232, 518.07435633), (591.048633694, 492.641829961))
            ThreePointArc((591.048633694, 492.641829961), (594.150648115, 490.133983107), (598.026414137, 491.077501553))
            Line((598.026414137, 491.077501553), (607.701712221, 499.196040607))
            ThreePointArc((607.701712221, 499.196040607), (609.303916208, 502.849084775), (607.372828334, 506.339455663))
            Line((607.372828334, 506.339455663), (584.360562722, 522.29049423))
            ThreePointArc((584.360562722, 522.29049423), (582.972134599, 518.843048429), (579.335965232, 518.07435633))
        make_face(mode=Mode.SUBTRACT)
        with Locations((682.276650002, 480.550186325)):
            Rectangle(SKETCH1_W, SKETCH1_H, mode=Mode.SUBTRACT)
        with BuildLine():
            Line((672.851587783, 499.196040607), (682.526885868, 491.077501553))
            ThreePointArc((682.526885868, 491.077501553), (686.402651889, 490.133983107), (689.50466631, 492.641829961))
            Line((689.50466631, 492.641829961), (701.217334773, 518.07435633))
            ThreePointArc((701.217334773, 518.07435633), (697.581165406, 518.843048429), (696.192737283, 522.29049423))
            Line((696.192737283, 522.29049423), (673.18047167, 506.339455663))
            ThreePointArc((673.18047167, 506.339455663), (671.249383797, 502.849084775), (672.851587783, 499.196040607))
        make_face(mode=Mode.SUBTRACT)
        with BuildLine():
            Line((698.432623695, 456.828882764), (698.432623695, 444.271489885))
            ThreePointArc((698.432623695, 444.271489885), (700.215976956, 440.666004394), (704.163878644, 439.895324987))
            Line((704.163878644, 439.895324987), (731.175082307, 447.27061323))
            ThreePointArc((731.175082307, 447.27061323), (729.426650002, 450.550186325), (731.175082307, 453.82975942))
            Line((731.175082307, 453.82975942), (704.163878644, 461.205047663))
            ThreePointArc((704.163878644, 461.205047663), (700.215976956, 460.434368256), (698.432623695, 456.828882764))
        make_face(mode=Mode.SUBTRACT)
        with Locations((682.276650002, 420.515790438)):
            Rectangle(SKETCH1_W, SKETCH1_H, mode=Mode.SUBTRACT)
        with Locations((598.276650002, 480.550186325)):
            Rectangle(SKETCH1_W, SKETCH1_H, mode=Mode.SUBTRACT)
    extrude(amount=BOSS_EXTRUDE1_DEPTH)

    # Fillet1
    fillet1_edges = [part.edges().sort_by_distance(p)[0] for p in [
        (675.276650002, 489.550186325, 2.925),
        (605.276650002, 489.550186325, 2.925),
    ]]
    fillet(fillet1_edges, radius=FILLET1_R)


solid = part.part
